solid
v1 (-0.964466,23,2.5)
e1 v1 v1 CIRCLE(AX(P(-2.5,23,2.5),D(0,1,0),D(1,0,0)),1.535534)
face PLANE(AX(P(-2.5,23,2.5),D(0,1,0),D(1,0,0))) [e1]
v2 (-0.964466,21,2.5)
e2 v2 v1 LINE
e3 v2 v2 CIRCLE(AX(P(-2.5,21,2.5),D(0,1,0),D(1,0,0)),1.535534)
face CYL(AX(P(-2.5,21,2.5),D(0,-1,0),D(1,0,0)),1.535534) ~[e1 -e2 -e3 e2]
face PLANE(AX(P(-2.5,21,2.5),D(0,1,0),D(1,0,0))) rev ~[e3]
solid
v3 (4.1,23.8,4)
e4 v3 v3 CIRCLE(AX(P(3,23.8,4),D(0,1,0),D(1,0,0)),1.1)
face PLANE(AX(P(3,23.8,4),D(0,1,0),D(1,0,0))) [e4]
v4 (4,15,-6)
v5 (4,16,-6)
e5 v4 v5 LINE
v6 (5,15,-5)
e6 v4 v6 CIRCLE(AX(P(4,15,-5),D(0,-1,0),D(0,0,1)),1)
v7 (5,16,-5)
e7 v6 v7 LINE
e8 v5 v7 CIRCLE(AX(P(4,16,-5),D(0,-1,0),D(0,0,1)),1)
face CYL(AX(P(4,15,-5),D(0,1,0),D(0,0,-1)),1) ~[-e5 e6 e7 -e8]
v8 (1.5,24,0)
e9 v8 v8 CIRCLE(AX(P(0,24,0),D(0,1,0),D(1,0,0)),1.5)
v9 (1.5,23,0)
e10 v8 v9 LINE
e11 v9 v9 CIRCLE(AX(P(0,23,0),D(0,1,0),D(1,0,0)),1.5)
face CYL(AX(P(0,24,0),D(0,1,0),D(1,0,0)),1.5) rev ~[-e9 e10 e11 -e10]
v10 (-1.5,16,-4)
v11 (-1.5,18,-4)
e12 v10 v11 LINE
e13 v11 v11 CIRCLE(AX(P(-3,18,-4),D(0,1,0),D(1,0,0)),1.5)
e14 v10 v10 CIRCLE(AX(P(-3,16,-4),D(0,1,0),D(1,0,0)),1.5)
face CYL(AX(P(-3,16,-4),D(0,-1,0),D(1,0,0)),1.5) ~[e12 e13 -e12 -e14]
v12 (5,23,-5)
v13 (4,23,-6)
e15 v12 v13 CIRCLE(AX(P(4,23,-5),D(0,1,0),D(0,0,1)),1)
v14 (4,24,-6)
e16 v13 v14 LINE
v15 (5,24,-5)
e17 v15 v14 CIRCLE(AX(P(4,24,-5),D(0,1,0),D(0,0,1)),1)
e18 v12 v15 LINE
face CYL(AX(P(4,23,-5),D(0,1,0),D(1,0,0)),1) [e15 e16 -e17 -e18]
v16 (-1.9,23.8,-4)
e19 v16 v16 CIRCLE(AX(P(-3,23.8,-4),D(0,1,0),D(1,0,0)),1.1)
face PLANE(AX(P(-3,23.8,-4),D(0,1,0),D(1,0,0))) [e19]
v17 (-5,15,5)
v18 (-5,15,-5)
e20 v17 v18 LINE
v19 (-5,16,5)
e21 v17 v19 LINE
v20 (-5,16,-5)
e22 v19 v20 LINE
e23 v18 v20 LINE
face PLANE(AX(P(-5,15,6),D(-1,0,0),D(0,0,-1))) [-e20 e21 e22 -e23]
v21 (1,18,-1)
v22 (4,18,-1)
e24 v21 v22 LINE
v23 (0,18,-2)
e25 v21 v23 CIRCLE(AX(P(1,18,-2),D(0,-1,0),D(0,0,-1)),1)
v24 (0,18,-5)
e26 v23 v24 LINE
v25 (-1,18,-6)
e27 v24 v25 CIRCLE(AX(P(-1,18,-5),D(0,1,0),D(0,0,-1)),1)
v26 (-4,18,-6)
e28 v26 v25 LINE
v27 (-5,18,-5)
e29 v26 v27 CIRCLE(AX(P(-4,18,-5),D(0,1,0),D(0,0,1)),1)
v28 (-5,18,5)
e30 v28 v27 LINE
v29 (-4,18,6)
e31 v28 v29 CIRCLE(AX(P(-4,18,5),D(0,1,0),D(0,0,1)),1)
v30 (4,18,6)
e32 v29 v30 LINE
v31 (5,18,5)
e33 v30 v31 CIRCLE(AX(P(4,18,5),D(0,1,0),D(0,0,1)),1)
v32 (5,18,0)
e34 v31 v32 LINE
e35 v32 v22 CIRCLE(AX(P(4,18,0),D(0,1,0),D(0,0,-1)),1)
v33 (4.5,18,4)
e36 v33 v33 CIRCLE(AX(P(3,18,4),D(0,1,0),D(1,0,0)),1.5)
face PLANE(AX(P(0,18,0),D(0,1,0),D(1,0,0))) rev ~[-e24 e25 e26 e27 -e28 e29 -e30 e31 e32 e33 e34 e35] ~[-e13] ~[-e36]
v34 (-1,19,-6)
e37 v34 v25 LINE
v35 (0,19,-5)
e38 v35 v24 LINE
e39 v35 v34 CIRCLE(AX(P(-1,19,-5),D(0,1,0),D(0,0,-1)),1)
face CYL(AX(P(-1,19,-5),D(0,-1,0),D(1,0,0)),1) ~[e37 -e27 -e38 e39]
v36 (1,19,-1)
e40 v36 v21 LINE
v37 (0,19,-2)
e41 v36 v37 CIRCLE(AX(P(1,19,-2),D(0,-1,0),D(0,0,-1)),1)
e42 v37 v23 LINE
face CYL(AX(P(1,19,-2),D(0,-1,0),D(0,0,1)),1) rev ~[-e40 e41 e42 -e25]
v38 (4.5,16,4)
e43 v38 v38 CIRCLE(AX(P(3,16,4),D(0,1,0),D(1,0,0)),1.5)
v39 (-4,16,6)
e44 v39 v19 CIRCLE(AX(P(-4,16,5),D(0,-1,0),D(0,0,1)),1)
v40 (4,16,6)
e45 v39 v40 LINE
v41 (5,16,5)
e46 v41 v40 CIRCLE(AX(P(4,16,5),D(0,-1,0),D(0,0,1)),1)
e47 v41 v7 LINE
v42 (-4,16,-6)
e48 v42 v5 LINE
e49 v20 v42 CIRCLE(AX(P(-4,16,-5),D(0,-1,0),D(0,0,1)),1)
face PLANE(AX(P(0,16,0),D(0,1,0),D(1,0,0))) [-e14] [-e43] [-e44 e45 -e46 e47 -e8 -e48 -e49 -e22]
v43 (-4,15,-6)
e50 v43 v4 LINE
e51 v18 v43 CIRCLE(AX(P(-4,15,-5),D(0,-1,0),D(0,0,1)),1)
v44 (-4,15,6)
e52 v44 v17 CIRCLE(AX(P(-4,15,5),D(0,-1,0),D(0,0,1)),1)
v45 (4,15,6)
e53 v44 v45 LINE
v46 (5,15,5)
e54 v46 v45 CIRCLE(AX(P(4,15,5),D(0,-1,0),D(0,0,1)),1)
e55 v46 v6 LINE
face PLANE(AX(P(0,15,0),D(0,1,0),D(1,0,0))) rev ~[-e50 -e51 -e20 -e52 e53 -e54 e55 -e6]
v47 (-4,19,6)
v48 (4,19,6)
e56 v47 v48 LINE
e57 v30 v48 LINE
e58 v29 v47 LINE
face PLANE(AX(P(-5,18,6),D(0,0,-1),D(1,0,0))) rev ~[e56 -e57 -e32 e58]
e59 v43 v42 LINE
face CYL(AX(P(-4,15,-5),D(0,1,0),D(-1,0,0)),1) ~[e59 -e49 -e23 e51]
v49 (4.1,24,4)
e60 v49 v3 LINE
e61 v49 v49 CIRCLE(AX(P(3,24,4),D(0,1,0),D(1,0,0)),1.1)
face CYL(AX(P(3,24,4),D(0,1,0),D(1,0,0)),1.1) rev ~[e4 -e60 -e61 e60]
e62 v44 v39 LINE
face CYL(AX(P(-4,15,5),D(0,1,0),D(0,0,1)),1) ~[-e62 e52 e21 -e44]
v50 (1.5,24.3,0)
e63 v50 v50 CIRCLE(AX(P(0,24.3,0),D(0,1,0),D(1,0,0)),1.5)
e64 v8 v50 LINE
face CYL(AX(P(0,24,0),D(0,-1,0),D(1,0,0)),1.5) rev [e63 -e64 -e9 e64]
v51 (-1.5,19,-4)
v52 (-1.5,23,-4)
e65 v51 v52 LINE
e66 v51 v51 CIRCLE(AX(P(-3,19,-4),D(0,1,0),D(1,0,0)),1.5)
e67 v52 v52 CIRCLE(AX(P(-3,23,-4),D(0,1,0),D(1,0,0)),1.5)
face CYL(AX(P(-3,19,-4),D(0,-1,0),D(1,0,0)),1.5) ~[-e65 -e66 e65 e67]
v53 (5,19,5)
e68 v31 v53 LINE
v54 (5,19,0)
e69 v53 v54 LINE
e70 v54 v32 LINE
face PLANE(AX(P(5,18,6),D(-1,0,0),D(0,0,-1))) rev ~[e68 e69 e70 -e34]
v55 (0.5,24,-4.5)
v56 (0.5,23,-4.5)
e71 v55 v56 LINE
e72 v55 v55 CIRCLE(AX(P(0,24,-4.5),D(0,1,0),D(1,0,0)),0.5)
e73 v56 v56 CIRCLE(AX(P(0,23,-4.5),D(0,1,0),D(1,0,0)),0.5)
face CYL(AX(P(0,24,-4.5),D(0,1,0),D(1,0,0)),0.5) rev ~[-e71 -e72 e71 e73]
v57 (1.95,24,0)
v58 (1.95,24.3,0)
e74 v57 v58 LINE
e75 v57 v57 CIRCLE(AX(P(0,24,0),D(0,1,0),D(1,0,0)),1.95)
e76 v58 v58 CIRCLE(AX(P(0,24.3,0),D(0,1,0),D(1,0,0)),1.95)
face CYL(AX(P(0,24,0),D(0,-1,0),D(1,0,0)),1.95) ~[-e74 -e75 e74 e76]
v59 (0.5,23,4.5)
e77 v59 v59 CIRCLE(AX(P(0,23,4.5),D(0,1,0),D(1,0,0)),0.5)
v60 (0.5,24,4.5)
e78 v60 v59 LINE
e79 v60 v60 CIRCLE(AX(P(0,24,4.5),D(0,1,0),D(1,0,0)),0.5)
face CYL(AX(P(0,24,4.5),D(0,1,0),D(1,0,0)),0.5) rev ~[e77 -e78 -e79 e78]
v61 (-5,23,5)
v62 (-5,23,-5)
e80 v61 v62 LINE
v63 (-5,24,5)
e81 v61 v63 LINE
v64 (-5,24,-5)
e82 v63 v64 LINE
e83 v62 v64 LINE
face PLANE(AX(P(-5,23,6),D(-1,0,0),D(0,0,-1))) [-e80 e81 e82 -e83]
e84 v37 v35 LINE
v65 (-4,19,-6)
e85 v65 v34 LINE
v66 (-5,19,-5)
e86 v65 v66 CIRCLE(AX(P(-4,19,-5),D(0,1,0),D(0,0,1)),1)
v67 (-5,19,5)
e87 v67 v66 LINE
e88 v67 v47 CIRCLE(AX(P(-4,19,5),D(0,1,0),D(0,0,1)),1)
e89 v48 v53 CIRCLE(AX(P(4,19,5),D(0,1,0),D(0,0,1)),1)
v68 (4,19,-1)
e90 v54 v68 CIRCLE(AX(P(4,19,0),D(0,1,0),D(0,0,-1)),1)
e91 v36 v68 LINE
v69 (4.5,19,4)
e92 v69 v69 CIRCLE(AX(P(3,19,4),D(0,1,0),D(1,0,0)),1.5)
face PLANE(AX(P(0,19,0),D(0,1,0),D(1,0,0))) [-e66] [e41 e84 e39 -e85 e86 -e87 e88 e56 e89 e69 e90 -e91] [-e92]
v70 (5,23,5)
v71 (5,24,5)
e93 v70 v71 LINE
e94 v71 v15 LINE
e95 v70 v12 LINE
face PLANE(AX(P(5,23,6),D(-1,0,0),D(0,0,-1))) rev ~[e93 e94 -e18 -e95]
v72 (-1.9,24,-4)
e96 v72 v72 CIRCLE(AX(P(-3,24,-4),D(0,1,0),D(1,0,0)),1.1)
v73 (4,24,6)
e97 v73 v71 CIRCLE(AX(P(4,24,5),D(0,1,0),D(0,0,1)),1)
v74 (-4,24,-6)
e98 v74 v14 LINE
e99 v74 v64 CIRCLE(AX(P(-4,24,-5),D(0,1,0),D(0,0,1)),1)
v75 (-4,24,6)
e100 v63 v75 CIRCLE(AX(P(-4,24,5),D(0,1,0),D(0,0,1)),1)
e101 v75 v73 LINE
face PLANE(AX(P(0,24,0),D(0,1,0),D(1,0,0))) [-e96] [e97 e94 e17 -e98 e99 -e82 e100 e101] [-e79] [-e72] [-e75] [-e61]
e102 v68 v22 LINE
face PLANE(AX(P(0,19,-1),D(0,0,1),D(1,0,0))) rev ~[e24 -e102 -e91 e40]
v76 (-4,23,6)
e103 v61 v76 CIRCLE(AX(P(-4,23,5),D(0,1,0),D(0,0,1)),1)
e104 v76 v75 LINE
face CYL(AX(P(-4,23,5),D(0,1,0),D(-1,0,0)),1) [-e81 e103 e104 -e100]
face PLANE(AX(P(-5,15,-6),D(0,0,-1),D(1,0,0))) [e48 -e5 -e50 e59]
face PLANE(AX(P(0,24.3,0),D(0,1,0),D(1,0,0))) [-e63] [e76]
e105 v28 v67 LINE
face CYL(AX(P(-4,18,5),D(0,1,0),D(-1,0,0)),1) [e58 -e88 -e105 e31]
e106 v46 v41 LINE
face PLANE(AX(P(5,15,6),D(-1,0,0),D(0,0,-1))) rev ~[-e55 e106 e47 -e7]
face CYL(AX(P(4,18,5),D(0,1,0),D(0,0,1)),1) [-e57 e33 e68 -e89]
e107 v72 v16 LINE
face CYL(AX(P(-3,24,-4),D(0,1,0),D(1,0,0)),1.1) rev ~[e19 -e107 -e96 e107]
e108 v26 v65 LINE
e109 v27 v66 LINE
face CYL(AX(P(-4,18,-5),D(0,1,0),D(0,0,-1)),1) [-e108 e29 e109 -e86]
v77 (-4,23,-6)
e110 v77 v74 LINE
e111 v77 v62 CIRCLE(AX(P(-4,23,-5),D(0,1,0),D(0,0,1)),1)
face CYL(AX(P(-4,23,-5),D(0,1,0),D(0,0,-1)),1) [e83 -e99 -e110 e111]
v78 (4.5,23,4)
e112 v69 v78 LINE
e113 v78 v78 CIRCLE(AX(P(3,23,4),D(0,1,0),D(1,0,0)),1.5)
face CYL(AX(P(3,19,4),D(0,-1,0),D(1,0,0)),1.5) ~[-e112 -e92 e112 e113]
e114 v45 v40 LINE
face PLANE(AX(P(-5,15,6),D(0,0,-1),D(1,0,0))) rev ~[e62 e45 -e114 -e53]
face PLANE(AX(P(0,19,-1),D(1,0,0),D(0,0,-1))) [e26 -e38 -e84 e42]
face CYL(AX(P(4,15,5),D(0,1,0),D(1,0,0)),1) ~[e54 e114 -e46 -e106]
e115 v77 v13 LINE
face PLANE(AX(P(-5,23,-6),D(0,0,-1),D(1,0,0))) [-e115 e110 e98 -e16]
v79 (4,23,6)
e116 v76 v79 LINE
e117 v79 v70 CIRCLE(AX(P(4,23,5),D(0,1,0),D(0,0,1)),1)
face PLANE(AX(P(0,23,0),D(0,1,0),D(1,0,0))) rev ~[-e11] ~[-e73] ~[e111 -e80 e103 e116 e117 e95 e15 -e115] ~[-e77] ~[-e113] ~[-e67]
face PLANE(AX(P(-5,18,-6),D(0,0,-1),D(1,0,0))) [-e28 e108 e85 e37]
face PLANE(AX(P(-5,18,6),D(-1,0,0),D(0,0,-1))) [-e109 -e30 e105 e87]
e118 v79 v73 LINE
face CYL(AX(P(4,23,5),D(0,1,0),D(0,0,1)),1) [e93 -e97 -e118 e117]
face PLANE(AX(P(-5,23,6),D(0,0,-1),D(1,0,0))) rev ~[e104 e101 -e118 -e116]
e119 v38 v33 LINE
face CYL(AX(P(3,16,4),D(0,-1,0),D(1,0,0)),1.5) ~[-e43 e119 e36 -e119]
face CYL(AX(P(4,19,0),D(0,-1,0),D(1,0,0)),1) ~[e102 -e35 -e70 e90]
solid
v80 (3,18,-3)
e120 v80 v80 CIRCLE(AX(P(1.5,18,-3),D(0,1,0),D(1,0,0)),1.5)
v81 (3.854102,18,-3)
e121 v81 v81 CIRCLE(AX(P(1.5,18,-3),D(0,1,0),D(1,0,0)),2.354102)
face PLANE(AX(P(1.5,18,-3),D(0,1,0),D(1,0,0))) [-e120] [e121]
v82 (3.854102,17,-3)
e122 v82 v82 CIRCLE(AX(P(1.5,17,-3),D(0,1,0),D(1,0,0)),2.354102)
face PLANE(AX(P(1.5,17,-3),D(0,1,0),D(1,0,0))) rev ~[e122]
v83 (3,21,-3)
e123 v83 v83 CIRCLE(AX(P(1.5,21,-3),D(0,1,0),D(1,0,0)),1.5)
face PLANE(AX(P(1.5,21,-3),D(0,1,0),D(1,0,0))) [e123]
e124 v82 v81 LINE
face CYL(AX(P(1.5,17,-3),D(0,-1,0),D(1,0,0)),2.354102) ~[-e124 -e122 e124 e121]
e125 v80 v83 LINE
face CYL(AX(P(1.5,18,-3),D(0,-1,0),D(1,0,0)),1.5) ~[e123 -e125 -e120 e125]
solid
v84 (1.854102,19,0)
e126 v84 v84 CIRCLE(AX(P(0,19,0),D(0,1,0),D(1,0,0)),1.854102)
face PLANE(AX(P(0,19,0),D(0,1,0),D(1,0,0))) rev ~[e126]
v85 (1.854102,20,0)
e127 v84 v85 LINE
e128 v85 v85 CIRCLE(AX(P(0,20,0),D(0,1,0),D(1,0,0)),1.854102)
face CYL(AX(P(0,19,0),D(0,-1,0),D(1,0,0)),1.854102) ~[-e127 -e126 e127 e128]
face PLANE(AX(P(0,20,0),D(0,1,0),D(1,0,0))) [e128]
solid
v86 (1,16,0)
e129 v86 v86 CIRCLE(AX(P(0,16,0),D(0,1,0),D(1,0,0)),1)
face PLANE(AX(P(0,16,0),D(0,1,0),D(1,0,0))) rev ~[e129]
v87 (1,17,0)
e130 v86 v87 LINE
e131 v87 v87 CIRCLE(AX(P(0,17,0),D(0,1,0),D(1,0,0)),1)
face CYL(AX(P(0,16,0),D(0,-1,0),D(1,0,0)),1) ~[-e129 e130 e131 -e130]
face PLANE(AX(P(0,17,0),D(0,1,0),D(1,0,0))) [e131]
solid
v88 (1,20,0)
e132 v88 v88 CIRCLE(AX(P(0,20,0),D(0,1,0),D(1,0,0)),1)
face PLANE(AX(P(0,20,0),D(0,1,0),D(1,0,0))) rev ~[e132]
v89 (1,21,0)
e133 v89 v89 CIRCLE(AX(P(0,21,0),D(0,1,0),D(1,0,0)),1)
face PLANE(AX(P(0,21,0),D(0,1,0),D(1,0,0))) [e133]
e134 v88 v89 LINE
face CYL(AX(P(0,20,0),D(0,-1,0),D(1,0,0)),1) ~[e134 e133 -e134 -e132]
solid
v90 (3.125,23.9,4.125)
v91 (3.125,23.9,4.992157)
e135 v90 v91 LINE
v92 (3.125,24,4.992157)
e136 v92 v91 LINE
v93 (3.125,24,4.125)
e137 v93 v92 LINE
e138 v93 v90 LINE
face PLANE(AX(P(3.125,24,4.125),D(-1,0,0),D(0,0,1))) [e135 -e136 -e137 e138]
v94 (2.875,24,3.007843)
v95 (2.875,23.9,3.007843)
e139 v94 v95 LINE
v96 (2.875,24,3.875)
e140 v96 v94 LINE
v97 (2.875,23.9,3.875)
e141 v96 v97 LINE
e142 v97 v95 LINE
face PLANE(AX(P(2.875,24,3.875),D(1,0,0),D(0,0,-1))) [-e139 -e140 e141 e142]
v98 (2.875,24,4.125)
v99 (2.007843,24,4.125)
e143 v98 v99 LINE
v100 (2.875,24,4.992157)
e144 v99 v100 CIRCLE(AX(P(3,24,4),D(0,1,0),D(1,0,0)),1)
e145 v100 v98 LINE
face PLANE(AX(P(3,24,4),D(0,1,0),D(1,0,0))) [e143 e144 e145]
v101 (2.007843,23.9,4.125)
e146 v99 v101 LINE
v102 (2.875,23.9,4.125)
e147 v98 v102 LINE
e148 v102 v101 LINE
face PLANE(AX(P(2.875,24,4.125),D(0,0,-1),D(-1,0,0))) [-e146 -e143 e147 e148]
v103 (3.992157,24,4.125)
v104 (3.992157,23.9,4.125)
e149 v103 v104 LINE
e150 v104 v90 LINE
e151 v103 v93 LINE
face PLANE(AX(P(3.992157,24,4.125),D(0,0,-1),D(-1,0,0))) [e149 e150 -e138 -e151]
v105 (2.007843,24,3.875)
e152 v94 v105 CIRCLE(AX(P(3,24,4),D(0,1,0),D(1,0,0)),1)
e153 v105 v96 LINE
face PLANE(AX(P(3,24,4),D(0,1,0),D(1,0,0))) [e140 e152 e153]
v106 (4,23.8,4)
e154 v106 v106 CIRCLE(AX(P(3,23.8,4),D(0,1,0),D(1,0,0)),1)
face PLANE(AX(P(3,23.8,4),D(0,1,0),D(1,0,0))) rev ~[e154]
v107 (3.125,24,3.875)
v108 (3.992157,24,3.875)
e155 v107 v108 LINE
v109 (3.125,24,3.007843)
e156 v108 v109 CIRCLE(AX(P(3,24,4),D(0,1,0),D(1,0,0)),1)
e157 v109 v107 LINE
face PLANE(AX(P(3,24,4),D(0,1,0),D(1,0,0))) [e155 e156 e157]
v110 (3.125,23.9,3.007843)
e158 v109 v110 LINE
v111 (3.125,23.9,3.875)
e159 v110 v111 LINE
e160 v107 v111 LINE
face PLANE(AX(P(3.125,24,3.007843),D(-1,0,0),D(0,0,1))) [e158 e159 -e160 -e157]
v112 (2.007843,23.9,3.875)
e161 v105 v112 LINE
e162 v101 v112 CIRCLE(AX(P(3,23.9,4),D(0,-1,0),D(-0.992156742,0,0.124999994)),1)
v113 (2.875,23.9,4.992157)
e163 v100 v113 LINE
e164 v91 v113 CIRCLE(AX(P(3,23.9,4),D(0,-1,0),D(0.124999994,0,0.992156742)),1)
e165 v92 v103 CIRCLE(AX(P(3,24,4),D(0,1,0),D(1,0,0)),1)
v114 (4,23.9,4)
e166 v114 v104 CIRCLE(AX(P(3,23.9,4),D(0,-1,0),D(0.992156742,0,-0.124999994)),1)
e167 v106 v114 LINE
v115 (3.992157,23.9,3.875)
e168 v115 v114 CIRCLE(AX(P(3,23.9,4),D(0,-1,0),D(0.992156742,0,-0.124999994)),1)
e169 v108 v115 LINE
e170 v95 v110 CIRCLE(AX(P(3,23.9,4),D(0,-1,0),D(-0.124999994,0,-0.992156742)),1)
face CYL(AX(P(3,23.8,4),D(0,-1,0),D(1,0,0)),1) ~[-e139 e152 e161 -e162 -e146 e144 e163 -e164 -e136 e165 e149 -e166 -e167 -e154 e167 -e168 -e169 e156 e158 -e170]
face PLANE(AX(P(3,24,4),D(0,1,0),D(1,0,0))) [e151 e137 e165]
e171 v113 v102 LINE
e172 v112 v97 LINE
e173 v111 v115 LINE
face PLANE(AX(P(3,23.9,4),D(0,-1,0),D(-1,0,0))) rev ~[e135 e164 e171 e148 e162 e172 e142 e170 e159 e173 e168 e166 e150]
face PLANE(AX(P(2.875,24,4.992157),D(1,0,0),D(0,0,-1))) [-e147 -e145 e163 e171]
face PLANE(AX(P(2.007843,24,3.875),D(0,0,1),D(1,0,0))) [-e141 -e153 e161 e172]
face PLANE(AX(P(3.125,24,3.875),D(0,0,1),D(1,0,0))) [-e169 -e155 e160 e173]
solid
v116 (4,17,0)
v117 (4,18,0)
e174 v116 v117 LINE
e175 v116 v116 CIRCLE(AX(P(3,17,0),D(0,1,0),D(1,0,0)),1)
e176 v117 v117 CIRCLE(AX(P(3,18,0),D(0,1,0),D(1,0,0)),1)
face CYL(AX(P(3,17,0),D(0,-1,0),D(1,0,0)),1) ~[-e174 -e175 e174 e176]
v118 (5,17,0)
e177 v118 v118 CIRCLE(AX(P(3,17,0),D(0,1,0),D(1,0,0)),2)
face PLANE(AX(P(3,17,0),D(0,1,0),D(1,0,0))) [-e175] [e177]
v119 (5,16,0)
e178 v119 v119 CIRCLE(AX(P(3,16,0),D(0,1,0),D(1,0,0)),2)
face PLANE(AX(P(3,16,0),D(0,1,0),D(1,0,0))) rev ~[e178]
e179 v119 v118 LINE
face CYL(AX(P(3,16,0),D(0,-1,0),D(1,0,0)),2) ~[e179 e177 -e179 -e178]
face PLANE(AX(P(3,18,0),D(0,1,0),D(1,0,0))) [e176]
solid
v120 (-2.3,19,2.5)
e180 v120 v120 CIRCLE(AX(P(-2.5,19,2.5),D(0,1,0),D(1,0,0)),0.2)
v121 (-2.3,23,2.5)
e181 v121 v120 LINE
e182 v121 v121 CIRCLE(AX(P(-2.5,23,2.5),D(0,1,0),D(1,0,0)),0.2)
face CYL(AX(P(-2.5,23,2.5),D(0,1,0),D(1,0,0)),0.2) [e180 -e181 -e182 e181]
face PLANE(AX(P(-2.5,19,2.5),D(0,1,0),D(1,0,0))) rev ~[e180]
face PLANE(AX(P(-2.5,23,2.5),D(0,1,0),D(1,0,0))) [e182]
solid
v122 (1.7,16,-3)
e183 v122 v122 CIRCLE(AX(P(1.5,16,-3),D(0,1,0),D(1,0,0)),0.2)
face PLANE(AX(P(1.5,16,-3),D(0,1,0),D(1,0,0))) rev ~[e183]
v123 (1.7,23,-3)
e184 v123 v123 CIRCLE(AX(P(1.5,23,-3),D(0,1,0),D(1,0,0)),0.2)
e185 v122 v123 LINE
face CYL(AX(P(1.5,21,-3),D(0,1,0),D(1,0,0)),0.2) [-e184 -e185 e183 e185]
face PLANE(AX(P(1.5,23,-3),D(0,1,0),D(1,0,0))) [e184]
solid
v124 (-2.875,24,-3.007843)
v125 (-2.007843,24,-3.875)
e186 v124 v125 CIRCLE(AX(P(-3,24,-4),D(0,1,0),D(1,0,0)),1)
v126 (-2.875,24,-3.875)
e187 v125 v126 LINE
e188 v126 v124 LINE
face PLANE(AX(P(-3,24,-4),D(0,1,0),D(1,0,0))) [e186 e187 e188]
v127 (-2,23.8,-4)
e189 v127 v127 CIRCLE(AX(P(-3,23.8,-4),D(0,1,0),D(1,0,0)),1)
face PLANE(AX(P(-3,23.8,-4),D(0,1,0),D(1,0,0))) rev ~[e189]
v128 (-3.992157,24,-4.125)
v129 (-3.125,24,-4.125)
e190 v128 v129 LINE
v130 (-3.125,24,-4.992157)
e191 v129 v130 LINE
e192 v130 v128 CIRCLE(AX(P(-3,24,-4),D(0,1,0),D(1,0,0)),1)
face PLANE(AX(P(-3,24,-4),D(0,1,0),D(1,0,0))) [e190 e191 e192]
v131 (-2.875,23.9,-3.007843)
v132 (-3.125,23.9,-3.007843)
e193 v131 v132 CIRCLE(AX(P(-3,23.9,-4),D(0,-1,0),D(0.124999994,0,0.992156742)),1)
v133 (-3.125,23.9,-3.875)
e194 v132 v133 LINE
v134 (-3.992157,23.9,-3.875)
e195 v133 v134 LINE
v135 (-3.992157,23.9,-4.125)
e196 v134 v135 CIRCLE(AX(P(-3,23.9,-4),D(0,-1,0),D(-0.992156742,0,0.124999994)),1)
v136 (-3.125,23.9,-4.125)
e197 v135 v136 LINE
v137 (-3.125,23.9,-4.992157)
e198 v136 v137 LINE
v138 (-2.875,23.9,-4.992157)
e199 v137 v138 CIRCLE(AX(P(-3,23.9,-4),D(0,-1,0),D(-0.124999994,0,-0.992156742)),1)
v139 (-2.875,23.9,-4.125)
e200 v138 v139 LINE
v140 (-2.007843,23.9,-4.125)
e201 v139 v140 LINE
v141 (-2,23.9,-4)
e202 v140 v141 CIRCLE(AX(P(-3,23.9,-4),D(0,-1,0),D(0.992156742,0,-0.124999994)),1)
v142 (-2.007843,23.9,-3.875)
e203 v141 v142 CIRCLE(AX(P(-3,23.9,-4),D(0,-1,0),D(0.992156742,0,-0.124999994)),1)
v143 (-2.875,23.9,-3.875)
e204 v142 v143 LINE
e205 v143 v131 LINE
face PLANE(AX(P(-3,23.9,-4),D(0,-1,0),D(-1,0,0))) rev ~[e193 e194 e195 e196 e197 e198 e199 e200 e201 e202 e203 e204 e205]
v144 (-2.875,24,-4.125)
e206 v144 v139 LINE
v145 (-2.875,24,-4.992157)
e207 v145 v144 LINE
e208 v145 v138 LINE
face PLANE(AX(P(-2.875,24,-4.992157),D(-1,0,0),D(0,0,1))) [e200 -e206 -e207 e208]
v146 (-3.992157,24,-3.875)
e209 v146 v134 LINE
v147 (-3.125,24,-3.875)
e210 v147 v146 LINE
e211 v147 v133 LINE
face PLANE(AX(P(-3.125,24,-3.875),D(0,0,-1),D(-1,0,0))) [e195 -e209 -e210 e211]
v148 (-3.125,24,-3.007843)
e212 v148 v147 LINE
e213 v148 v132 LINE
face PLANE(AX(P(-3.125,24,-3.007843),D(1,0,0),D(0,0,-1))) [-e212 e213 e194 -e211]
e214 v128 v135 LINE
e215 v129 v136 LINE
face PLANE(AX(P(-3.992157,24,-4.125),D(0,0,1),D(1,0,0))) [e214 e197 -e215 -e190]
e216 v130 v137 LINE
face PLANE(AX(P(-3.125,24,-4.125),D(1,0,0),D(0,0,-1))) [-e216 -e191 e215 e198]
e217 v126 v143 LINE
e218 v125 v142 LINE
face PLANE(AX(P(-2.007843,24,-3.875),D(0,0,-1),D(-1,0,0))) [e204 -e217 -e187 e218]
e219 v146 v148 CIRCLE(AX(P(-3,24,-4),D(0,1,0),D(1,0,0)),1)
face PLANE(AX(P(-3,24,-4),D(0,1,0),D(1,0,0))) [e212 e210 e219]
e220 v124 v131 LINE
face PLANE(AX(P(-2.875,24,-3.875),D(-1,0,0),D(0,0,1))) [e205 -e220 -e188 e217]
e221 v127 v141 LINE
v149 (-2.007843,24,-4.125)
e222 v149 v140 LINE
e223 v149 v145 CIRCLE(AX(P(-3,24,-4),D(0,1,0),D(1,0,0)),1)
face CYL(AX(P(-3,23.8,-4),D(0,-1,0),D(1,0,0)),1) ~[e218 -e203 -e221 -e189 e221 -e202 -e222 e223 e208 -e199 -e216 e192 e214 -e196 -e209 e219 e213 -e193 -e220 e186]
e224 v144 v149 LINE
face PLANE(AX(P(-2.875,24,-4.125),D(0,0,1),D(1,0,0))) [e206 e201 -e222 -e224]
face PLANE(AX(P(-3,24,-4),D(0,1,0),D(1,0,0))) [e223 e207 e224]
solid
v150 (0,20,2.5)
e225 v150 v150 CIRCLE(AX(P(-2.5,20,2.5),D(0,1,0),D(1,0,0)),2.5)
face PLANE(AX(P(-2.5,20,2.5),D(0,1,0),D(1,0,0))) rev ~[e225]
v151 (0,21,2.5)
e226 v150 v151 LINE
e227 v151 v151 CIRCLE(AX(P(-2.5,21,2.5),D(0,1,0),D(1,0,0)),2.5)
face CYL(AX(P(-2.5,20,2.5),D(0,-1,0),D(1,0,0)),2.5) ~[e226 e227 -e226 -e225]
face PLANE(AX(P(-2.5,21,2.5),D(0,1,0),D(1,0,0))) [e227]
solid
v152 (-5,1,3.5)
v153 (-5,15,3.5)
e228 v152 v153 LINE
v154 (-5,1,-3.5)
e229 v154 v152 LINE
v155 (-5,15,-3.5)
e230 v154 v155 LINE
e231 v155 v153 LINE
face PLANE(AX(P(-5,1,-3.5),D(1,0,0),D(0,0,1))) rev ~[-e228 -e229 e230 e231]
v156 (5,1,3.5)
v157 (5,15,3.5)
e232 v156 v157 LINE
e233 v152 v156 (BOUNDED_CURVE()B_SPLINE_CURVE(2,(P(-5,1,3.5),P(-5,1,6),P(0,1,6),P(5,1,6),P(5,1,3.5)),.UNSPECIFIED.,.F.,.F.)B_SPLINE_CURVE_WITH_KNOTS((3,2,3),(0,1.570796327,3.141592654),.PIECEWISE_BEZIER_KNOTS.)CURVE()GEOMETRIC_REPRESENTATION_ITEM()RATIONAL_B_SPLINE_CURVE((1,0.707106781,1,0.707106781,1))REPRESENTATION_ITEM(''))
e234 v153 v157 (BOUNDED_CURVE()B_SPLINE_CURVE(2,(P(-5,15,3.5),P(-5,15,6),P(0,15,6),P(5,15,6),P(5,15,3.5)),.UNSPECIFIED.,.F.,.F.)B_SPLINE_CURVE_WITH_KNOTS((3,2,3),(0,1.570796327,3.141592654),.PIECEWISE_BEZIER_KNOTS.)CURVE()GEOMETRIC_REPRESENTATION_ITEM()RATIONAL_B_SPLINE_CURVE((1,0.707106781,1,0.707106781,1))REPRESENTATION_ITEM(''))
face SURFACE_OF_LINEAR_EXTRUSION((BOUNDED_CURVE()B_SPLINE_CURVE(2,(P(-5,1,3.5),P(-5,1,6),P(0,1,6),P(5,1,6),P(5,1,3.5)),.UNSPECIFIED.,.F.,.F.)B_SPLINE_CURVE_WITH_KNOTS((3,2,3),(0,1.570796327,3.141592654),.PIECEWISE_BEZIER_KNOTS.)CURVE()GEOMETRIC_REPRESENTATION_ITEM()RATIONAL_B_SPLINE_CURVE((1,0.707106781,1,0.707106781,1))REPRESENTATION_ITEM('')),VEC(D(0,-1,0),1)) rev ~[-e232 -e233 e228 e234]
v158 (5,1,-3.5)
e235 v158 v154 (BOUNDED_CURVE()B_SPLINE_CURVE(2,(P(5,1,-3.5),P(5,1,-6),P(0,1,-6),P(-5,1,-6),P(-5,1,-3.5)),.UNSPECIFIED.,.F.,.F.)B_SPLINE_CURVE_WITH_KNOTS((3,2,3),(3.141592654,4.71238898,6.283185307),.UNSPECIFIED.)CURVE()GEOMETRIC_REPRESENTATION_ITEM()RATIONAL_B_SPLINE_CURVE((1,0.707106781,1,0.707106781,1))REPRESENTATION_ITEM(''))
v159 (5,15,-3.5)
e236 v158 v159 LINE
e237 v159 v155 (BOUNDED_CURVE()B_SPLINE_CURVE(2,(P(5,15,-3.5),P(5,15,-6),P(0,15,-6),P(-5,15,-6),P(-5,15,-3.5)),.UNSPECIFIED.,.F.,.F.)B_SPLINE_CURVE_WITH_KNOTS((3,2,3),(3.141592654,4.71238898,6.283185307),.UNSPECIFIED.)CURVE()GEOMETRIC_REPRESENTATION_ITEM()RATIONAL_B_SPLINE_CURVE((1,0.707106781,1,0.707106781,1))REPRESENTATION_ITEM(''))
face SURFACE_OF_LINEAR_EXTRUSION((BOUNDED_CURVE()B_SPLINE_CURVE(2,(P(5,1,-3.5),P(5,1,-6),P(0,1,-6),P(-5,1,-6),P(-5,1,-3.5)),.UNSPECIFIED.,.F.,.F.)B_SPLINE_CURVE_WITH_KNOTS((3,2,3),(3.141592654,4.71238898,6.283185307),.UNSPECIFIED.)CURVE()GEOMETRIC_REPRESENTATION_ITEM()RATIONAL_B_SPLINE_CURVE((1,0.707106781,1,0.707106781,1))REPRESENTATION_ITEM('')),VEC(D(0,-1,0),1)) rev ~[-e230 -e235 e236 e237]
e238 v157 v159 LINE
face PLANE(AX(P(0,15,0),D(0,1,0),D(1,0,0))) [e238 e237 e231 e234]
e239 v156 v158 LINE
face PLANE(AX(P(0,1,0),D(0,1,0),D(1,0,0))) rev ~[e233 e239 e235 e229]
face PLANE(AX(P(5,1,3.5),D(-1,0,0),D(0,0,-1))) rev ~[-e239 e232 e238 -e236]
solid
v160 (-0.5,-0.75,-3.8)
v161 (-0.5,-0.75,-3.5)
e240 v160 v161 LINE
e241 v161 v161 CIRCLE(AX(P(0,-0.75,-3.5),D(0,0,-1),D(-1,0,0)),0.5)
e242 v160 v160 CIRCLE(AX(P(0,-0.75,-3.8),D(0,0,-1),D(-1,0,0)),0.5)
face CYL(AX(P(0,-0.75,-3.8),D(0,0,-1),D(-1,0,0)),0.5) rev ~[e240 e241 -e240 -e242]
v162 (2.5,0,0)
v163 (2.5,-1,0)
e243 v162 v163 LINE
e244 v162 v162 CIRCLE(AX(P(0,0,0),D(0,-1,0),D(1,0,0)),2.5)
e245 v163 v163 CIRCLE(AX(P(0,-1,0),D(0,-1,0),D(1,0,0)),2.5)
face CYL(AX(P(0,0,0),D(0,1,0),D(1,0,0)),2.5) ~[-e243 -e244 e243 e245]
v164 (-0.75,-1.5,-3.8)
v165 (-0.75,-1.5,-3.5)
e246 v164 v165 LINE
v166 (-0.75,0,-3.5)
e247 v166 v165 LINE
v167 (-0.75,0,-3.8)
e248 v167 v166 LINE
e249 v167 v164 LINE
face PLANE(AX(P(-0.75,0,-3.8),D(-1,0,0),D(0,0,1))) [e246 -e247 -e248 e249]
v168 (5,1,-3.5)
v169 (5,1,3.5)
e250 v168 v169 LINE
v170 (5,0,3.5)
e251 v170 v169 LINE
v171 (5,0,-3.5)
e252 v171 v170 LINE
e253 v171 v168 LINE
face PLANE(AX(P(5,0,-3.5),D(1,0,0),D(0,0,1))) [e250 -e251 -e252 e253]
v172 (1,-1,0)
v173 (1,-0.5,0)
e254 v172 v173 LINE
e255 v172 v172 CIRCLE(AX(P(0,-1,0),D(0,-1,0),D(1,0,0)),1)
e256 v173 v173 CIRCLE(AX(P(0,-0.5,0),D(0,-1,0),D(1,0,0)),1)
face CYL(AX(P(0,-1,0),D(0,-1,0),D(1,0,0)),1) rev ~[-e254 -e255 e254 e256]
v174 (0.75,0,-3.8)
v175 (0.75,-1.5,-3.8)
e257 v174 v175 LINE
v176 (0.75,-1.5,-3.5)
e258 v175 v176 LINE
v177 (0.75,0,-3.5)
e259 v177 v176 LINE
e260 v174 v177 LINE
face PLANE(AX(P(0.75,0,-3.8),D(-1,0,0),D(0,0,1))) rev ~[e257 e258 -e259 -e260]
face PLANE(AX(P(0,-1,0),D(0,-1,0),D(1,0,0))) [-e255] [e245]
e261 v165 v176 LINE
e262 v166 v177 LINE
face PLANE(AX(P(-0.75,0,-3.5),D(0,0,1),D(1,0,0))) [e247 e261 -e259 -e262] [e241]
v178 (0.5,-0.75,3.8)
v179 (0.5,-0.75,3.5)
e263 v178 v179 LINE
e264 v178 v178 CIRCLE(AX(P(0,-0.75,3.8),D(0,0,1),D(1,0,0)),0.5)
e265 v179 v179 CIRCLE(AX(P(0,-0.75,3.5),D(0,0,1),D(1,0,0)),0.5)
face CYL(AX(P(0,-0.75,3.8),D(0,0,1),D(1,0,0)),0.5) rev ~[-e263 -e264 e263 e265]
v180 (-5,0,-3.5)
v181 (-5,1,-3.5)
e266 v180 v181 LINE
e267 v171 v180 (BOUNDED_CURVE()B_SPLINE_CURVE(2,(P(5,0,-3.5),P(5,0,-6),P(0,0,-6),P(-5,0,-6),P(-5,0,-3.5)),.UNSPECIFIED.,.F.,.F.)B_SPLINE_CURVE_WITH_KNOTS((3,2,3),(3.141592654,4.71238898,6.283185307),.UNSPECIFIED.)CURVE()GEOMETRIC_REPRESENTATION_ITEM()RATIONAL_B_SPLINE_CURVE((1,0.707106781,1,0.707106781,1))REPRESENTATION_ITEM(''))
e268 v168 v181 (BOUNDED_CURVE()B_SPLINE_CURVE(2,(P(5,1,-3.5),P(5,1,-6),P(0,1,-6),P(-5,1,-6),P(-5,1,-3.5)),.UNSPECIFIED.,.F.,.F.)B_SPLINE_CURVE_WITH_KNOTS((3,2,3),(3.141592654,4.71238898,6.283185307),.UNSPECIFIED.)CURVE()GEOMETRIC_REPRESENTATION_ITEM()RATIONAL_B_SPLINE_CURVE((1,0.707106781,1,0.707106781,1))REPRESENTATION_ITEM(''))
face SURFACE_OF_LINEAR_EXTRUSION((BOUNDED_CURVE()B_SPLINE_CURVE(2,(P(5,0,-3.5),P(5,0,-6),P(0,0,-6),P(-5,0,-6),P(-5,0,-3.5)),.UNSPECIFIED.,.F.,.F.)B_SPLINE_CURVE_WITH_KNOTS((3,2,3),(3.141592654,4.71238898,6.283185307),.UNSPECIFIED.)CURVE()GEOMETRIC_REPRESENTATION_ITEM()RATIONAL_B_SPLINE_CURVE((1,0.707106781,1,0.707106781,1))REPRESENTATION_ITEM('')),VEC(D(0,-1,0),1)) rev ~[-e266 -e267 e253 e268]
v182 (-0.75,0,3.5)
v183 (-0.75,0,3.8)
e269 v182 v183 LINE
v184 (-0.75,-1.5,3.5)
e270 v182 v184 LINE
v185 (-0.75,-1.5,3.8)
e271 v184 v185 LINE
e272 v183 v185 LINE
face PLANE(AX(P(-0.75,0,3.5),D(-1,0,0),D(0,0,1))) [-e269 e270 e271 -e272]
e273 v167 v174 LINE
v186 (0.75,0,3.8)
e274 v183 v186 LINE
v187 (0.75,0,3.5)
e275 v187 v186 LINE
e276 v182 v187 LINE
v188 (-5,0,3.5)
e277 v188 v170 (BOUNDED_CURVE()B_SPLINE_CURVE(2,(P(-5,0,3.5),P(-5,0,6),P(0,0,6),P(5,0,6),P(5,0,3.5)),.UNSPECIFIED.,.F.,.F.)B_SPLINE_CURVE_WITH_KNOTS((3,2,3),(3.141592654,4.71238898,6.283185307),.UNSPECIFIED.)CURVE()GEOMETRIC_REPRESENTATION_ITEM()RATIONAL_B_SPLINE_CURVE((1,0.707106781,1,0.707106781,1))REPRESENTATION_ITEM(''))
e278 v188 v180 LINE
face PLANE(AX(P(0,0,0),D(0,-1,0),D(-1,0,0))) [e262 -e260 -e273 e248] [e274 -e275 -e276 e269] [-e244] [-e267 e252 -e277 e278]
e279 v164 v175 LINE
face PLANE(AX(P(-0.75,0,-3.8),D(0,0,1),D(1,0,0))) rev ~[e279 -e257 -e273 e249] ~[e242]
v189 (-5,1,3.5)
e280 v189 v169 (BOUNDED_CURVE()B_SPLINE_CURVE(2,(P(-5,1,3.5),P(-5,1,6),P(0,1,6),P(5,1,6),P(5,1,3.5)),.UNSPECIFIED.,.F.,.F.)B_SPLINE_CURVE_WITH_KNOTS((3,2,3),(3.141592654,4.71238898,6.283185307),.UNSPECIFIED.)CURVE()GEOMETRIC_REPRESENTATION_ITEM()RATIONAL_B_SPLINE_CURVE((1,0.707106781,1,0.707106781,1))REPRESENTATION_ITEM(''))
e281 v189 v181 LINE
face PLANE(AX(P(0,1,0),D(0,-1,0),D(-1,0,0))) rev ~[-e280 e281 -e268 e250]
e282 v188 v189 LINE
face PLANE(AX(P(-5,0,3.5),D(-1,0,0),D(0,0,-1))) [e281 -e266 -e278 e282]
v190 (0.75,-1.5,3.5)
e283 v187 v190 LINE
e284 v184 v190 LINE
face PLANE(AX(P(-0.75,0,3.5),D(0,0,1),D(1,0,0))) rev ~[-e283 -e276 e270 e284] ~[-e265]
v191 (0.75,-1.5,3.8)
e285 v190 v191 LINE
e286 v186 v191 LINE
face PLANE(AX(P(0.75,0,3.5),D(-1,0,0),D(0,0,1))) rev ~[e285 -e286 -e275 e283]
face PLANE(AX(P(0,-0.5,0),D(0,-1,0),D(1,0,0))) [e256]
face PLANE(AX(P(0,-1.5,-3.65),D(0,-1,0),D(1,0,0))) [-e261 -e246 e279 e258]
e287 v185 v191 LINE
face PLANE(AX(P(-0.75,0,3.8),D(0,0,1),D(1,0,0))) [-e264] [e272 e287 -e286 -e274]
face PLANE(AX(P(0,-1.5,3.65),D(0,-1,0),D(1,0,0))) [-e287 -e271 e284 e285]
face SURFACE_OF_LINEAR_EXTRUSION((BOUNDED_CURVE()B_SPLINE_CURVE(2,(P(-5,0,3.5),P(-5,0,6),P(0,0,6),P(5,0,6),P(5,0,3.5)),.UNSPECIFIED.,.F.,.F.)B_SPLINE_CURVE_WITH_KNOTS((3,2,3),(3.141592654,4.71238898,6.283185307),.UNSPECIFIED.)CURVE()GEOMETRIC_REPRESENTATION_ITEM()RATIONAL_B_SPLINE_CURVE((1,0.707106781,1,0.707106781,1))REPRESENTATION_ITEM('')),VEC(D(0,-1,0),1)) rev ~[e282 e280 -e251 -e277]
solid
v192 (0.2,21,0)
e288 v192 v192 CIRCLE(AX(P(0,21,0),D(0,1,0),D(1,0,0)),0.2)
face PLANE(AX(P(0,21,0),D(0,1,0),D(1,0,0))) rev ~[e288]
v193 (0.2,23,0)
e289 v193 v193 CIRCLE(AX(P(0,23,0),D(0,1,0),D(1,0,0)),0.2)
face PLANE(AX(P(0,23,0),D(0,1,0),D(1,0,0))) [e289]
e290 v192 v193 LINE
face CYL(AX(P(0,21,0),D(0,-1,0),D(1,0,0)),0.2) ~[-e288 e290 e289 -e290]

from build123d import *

# Parameters (mm, degrees)
SALIENTE_EXTRUIR1_DEPTH       = 1
CROQUIS2_R                    = 2.5
SALIENTE_EXTRUIR2_DEPTH       = 1
CROQUIS3_R                    = 1
CORTAR_EXTRUIR1_DEPTH         = 0.5
CROQUIS4_W                    = 1.5
CROQUIS4_H                    = 0.3
SALIENTE_EXTRUIR3_DEPTH       = 1.5
CROQUIS5_R                    = 0.5
CORTAR_EXTRUIR2_DEPTH         = 0.3
CROQUIS6_R                    = 0.5
CORTAR_EXTRUIR3_DEPTH         = 0.3
SALIENTE_EXTRUIR4_DEPTH       = 14
CROQUIS8_W                    = 10
CROQUIS8_H                    = 12
SALIENTE_EXTRUIR5_DEPTH       = 1
CROQUIS23_R                   = 1
SALIENTE_EXTRUIR13_DEPTH      = 1
CROQUIS25_R                   = 2
SALIENTE_EXTRUIR18_DEPTH      = 1
CROQUIS26_R                   = 1
SALIENTE_EXTRUIR19_DEPTH      = 1
CROQUIS27_R                   = 2.354101966
SALIENTE_EXTRUIR21_DEPTH      = 1
CROQUIS29_R                   = 1.5
SALIENTE_EXTRUIR22_DEPTH      = 3
REDONDEO1_R                   = 1
REDONDEO2_R                   = 1
REDONDEO3_R                   = 1
REDONDEO4_R                   = 1
CROQUIS9_R                    = 1.5
SALIENTE_EXTRUIR6_DEPTH       = 2
CROQUIS10_W                   = 10
CROQUIS10_H                   = 12
SALIENTE_EXTRUIR7_DEPTH       = 1
CROQUIS11_R                   = 1.5
SALIENTE_EXTRUIR8_DEPTH       = 4
CROQUIS12_W                   = 5
CROQUIS12_H                   = 5
CORTAR_EXTRUIR4_DEPTH         = 1
CROQUIS30_R                   = 1.854101966
SALIENTE_EXTRUIR24_DEPTH      = 1
CROQUIS31_R                   = 1
SALIENTE_EXTRUIR26_DEPTH      = 1
CROQUIS32_R                   = 2.5
SALIENTE_EXTRUIR27_DEPTH      = 1
CROQUIS33_R                   = 1.535533906
SALIENTE_EXTRUIR28_DEPTH      = 2
CROQUIS34_R                   = 0.2
SALIENTE_EXTRUIR29_DEPTH      = 2
SALIENTE_EXTRUIR29_DEPTH_BACK = 5
CROQUIS35_R                   = 0.2
SALIENTE_EXTRUIR30_DEPTH      = 4
CROQUIS36_R                   = 0.2
SALIENTE_EXTRUIR31_DEPTH      = 2
REDONDEO5_R                   = 1
REDONDEO6_R                   = 1
REDONDEO7_R                   = 1
REDONDEO8_R                   = 1
REDONDEO9_R                   = 1
CROQUIS13_W                   = 10
CROQUIS13_H                   = 12
SALIENTE_EXTRUIR9_DEPTH       = 1
CROQUIS14_R                   = 1.95
CROQUIS14_R_2                 = 1.5
SALIENTE_EXTRUIR10_DEPTH      = 0.3
CROQUIS15_R                   = 0.5
CORTAR_EXTRUIR5_DEPTH         = 1
CROQUIS16_R                   = 1.1
CORTAR_EXTRUIR6_DEPTH         = 0.2
CROQUIS17_R                   = 1
SALIENTE_EXTRUIR11_DEPTH      = 0.2
CROQUIS18_R                   = 1
SALIENTE_EXTRUIR12_DEPTH      = 0.2
CORTAR_EXTRUIR7_DEPTH         = 0.1
CORTAR_EXTRUIR8_DEPTH         = 0.1
REDONDEO10_R                  = 1
REDONDEO11_R                  = 1
REDONDEO12_R                  = 1
REDONDEO13_R                  = 1
REDONDEO14_R                  = 1
CROQUIS22_R                   = 1.5
CORTAR_EXTRUIR9_DEPTH         = 1


with BuildPart() as part:
    # Croquis1 → Saliente-Extruir1 (new body)
    with BuildSketch(Plane(origin=(0, 0, 0), x_dir=(1, 0, 0), z_dir=(0, 1, 0))):
        with BuildLine():
            Line((5, 3.5), (5, -3.5))
            add(Edge.make_bspline(
                [(-5, -3.5), (-5, -6), (0, -6), (5, -6), (5, -3.5)],
                knots=[3.141592654, 3.141592654, 3.141592654, 4.71238898, 4.71238898, 6.283185307, 6.283185307, 6.283185307], degree=2, weights=[1, 0.707106781, 1, 0.707106781, 1]))
            Line((-5, -3.5), (-5, 3.5))
            add(Edge.make_bspline(
                [(5, 3.5), (5, 6), (0, 6), (-5, 6), (-5, 3.5)],
                knots=[3.141592654, 3.141592654, 3.141592654, 4.71238898, 4.71238898, 6.283185307, 6.283185307, 6.283185307], degree=2, weights=[1, 0.707106781, 1, 0.707106781, 1]))
        make_face()
    extrude(amount=SALIENTE_EXTRUIR1_DEPTH)

    # Croquis2 → Saliente-Extruir2 (add)
    with BuildSketch(Plane.XZ):
        Circle(CROQUIS2_R)
    extrude(amount=SALIENTE_EXTRUIR2_DEPTH)

    # Croquis3 → Cortar-Extruir1 (cut)
    with BuildSketch(Plane.XZ.offset(1)):
        Circle(CROQUIS3_R)
    extrude(amount=-CORTAR_EXTRUIR1_DEPTH, mode=Mode.SUBTRACT)

    # Croquis4 → Saliente-Extruir3 (add)
    with BuildSketch(Plane.XZ):
        with Locations((0, 3.65)):
            Rectangle(CROQUIS4_W, CROQUIS4_H)
        with Locations((0, -3.65)):
            Rectangle(CROQUIS4_W, CROQUIS4_H)
    extrude(amount=SALIENTE_EXTRUIR3_DEPTH)

    # Croquis5 → Cortar-Extruir2 (cut)
    with BuildSketch(Plane(origin=(0, 0, -3.8), x_dir=(-1, 0, 0), z_dir=(0, 0, -1))):
        with Locations((0, -0.75)):
            Circle(CROQUIS5_R)
    extrude(amount=-CORTAR_EXTRUIR2_DEPTH, mode=Mode.SUBTRACT)

    # Croquis6 → Cortar-Extruir3 (cut)
    with BuildSketch(Plane.XY.offset(3.8)):
        with Locations((0, -0.75)):
            Circle(CROQUIS6_R)
    extrude(amount=-CORTAR_EXTRUIR3_DEPTH, mode=Mode.SUBTRACT)


with BuildPart() as body_2:
    # Croquis7 → Saliente-Extruir4 (new body)
    with BuildSketch(Plane(origin=(0, 1, 0), x_dir=(1, 0, 0), z_dir=(0, 1, 0))):
        with BuildLine():
            Line((-5, 3.5), (-5, -3.5))
            add(Edge.make_bspline(
                [(-5, -3.5), (-5, -6), (0, -6), (5, -6), (5, -3.5)],
                knots=[0, 0, 0, 1.570796327, 1.570796327, 3.141592654, 3.141592654, 3.141592654], degree=2, weights=[1, 0.707106781, 1, 0.707106781, 1]))
            Line((5, -3.5), (5, 3.5))
            add(Edge.make_bspline(
                [(5, 3.5), (5, 6), (0, 6), (-5, 6), (-5, 3.5)],
                knots=[3.141592654, 3.141592654, 3.141592654, 4.71238898, 4.71238898, 6.283185307, 6.283185307, 6.283185307], degree=2, weights=[1, 0.707106781, 1, 0.707106781, 1]))
        make_face()
    extrude(amount=SALIENTE_EXTRUIR4_DEPTH)


with BuildPart() as body_3:
    # Croquis8 → Saliente-Extruir5 (new body)
    with BuildSketch(Plane(origin=(0, 15, 0), x_dir=(1, 0, 0), z_dir=(0, 1, 0))):
        Rectangle(CROQUIS8_W, CROQUIS8_H)
    extrude(amount=SALIENTE_EXTRUIR5_DEPTH)

    # Redondeo1
    redondeo1_edges = [body_3.edges().sort_by_distance(p)[0] for p in [
        (-5, 15.5, -6),
    ]]
    fillet(redondeo1_edges, radius=REDONDEO1_R)

    # Redondeo2
    redondeo2_edges = [body_3.edges().sort_by_distance(p)[0] for p in [
        (5, 15.5, -6),
    ]]
    fillet(redondeo2_edges, radius=REDONDEO2_R)

    # Redondeo3
    redondeo3_edges = [body_3.edges().sort_by_distance(p)[0] for p in [
        (5, 15.5, 6),
    ]]
    fillet(redondeo3_edges, radius=REDONDEO3_R)

    # Redondeo4
    redondeo4_edges = [body_3.edges().sort_by_distance(p)[0] for p in [
        (-5, 15.5, 6),
    ]]
    fillet(redondeo4_edges, radius=REDONDEO4_R)

    # Croquis9 → Saliente-Extruir6 (add)
    with BuildSketch(Plane(origin=(0, 16, 0), x_dir=(1, 0, 0), z_dir=(0, 1, 0))):
        with Locations((-3, 4)):
            Circle(CROQUIS9_R)
        with Locations((3, -4)):
            Circle(CROQUIS9_R)
    extrude(amount=SALIENTE_EXTRUIR6_DEPTH)

    # Croquis10 → Saliente-Extruir7 (add)
    with BuildSketch(Plane(origin=(0, 18, 0), x_dir=(1, 0, 0), z_dir=(0, 1, 0))):
        Rectangle(CROQUIS10_W, CROQUIS10_H)
    extrude(amount=SALIENTE_EXTRUIR7_DEPTH)

    # Croquis11 → Saliente-Extruir8 (add)
    with BuildSketch(Plane(origin=(0, 19, 0), x_dir=(1, 0, 0), z_dir=(0, 1, 0))):
        with Locations((3, -4)):
            Circle(CROQUIS11_R)
        with Locations((-3, 4)):
            Circle(CROQUIS11_R)
    extrude(amount=SALIENTE_EXTRUIR8_DEPTH)

    # Croquis12 → Cortar-Extruir4 (cut)
    with BuildSketch(Plane(origin=(0, 19, 0), x_dir=(1, 0, 0), z_dir=(0, 1, 0))):
        with Locations((2.5, 3.5)):
            Rectangle(CROQUIS12_W, CROQUIS12_H)
    extrude(amount=-CORTAR_EXTRUIR4_DEPTH, mode=Mode.SUBTRACT)

    # Redondeo5
    redondeo5_edges = [body_3.edges().sort_by_distance(p)[0] for p in [
        (5, 18.5, -1),
    ]]
    fillet(redondeo5_edges, radius=REDONDEO5_R)

    # Redondeo6
    redondeo6_edges = [body_3.edges().sort_by_distance(p)[0] for p in [
        (0, 18.5, -6),
    ]]
    fillet(redondeo6_edges, radius=REDONDEO6_R)

    # Redondeo7
    redondeo7_edges = [body_3.edges().sort_by_distance(p)[0] for p in [
        (-5, 18.5, -6),
    ]]
    fillet(redondeo7_edges, radius=REDONDEO7_R)

    # Redondeo8
    redondeo8_edges = [body_3.edges().sort_by_distance(p)[0] for p in [
        (-5, 18.5, 6),
    ]]
    fillet(redondeo8_edges, radius=REDONDEO8_R)

    # Redondeo9
    redondeo9_edges = [body_3.edges().sort_by_distance(p)[0] for p in [
        (5, 18.5, 6),
    ]]
    fillet(redondeo9_edges, radius=REDONDEO9_R)

    # Croquis13 → Saliente-Extruir9 (add)
    with BuildSketch(Plane(origin=(0, 23, 0), x_dir=(1, 0, 0), z_dir=(0, 1, 0))):
        Rectangle(CROQUIS13_W, CROQUIS13_H)
    extrude(amount=SALIENTE_EXTRUIR9_DEPTH)

    # Croquis14 → Saliente-Extruir10 (add)
    with BuildSketch(Plane(origin=(0, 24, 0), x_dir=(1, 0, 0), z_dir=(0, 1, 0))):
        Circle(CROQUIS14_R)
        Circle(CROQUIS14_R_2, mode=Mode.SUBTRACT)
    extrude(amount=SALIENTE_EXTRUIR10_DEPTH)

    # Croquis15 → Cortar-Extruir5 (cut)
    with BuildSketch(Plane(origin=(0, 24, 0), x_dir=(1, 0, 0), z_dir=(0, 1, 0))):
        with Locations((0, 4.5)):
            Circle(CROQUIS15_R)
        with Locations((0, -4.5)):
            Circle(CROQUIS15_R)
    extrude(amount=-CORTAR_EXTRUIR5_DEPTH, mode=Mode.SUBTRACT)

    # Croquis16 → Cortar-Extruir6 (cut)
    with BuildSketch(Plane(origin=(0, 24, 0), x_dir=(1, 0, 0), z_dir=(0, 1, 0))):
        with Locations((3, -4)):
            Circle(CROQUIS16_R)
        with Locations((-3, 4)):
            Circle(CROQUIS16_R)
    extrude(amount=-CORTAR_EXTRUIR6_DEPTH, mode=Mode.SUBTRACT)

    # Redondeo10
    redondeo10_edges = [body_3.edges().sort_by_distance(p)[0] for p in [
        (-5, 23.5, 6),
    ]]
    fillet(redondeo10_edges, radius=REDONDEO10_R)

    # Redondeo11
    redondeo11_edges = [body_3.edges().sort_by_distance(p)[0] for p in [
        (5, 23.5, 6),
    ]]
    fillet(redondeo11_edges, radius=REDONDEO11_R)

    # Redondeo12
    redondeo12_edges = [body_3.edges().sort_by_distance(p)[0] for p in [
        (5, 23.5, -6),
    ]]
    fillet(redondeo12_edges, radius=REDONDEO12_R)

    # Redondeo13
    redondeo13_edges = [body_3.edges().sort_by_distance(p)[0] for p in [
        (-5, 23.5, -6),
    ]]
    fillet(redondeo13_edges, radius=REDONDEO13_R)

    # Redondeo14
    redondeo14_edges = [body_3.edges().sort_by_distance(p)[0] for p in [
        (0, 18.5, -1),
    ]]
    fillet(redondeo14_edges, radius=REDONDEO14_R)

    # Croquis22 → Cortar-Extruir9 (cut)
    with BuildSketch(Plane(origin=(0, 24, 0), x_dir=(1, 0, 0), z_dir=(0, 1, 0))):
        Circle(CROQUIS22_R)
    extrude(amount=-CORTAR_EXTRUIR9_DEPTH, mode=Mode.SUBTRACT)


with BuildPart() as body_4:
    # Croquis23 → Saliente-Extruir13 (new body)
    with BuildSketch(Plane(origin=(0, 16, 0), x_dir=(1, 0, 0), z_dir=(0, 1, 0))):
        Circle(CROQUIS23_R)
    extrude(amount=SALIENTE_EXTRUIR13_DEPTH)


with BuildPart() as body_5:
    # Croquis25 → Saliente-Extruir18 (new body)
    with BuildSketch(Plane(origin=(0, 16, 0), x_dir=(1, 0, 0), z_dir=(0, 1, 0))):
        with Locations((3, 0)):
            Circle(CROQUIS25_R)
    extrude(amount=SALIENTE_EXTRUIR18_DEPTH)

    # Croquis26 → Saliente-Extruir19 (add)
    with BuildSketch(Plane(origin=(0, 17, 0), x_dir=(1, 0, 0), z_dir=(0, 1, 0))):
        with Locations((3, 0)):
            Circle(CROQUIS26_R)
    extrude(amount=SALIENTE_EXTRUIR19_DEPTH)


with BuildPart() as body_6:
    # Croquis27 → Saliente-Extruir21 (new body)
    with BuildSketch(Plane(origin=(0, 17, 0), x_dir=(1, 0, 0), z_dir=(0, 1, 0))):
        with Locations((1.5, 3)):
            Circle(CROQUIS27_R)
    extrude(amount=SALIENTE_EXTRUIR21_DEPTH)

    # Croquis29 → Saliente-Extruir22 (add)
    with BuildSketch(Plane(origin=(0, 18, 0), x_dir=(1, 0, 0), z_dir=(0, 1, 0))):
        with Locations((1.5, 3)):
            Circle(CROQUIS29_R)
    extrude(amount=SALIENTE_EXTRUIR22_DEPTH)


with BuildPart() as body_7:
    # Croquis30 → Saliente-Extruir24 (new body)
    with BuildSketch(Plane(origin=(0, 19, 0), x_dir=(1, 0, 0), z_dir=(0, 1, 0))):
        Circle(CROQUIS30_R)
    extrude(amount=SALIENTE_EXTRUIR24_DEPTH)


with BuildPart() as body_8:
    # Croquis31 → Saliente-Extruir26 (new body)
    with BuildSketch(Plane(origin=(0, 20, 0), x_dir=(1, 0, 0), z_dir=(0, 1, 0))):
        Circle(CROQUIS31_R)
    extrude(amount=SALIENTE_EXTRUIR26_DEPTH)


with BuildPart() as body_9:
    # Croquis32 → Saliente-Extruir27 (new body)
    with BuildSketch(Plane(origin=(0, 20, 0), x_dir=(1, 0, 0), z_dir=(0, 1, 0))):
        with Locations((-2.5, -2.5)):
            Circle(CROQUIS32_R)
    extrude(amount=SALIENTE_EXTRUIR27_DEPTH)


with BuildPart() as body_10:
    # Croquis33 → Saliente-Extruir28 (new body)
    with BuildSketch(Plane(origin=(0, 21, 0), x_dir=(1, 0, 0), z_dir=(0, 1, 0))):
        with Locations((-2.5, -2.5)):
            Circle(CROQUIS33_R)
    extrude(amount=SALIENTE_EXTRUIR28_DEPTH)


with BuildPart() as body_11:
    # Croquis34 → Saliente-Extruir29 (new body, two sides)
    with BuildSketch(Plane(origin=(0, 21, 0), x_dir=(1, 0, 0), z_dir=(0, 1, 0))) as saliente_extruir29_sk:
        with Locations((1.5, 3)):
            Circle(CROQUIS34_R)
    extrude(amount=SALIENTE_EXTRUIR29_DEPTH)
    extrude(saliente_extruir29_sk.sketch, amount=-SALIENTE_EXTRUIR29_DEPTH_BACK)


with BuildPart() as body_12:
    # Croquis35 → Saliente-Extruir30 (new body)
    with BuildSketch(Plane(origin=(0, 23, 0), x_dir=(1, 0, 0), z_dir=(0, 1, 0))):
        with Locations((-2.5, -2.5)):
            Circle(CROQUIS35_R)
    extrude(amount=-SALIENTE_EXTRUIR30_DEPTH)


with BuildPart() as body_13:
    # Croquis36 → Saliente-Extruir31 (new body)
    with BuildSketch(Plane(origin=(0, 21, 0), x_dir=(1, 0, 0), z_dir=(0, 1, 0))):
        Circle(CROQUIS36_R)
    extrude(amount=SALIENTE_EXTRUIR31_DEPTH)


with BuildPart() as body_14:
    # Croquis17 → Saliente-Extruir11 (new body)
    with BuildSketch(Plane(origin=(0, 23.8, 0), x_dir=(1, 0, 0), z_dir=(0, 1, 0))):
        with Locations((-3, 4)):
            Circle(CROQUIS17_R)
    extrude(amount=SALIENTE_EXTRUIR11_DEPTH)

    # Croquis19 → Cortar-Extruir7 (cut)
    with BuildSketch(Plane(origin=(0, 24, 0), x_dir=(1, 0, 0), z_dir=(0, 1, 0))):
        with BuildLine():
            Line((-3.125, 4.125), (-3.125, 4.992156742))
            ThreePointArc((-3.125, 4.992156742), (-3, 5), (-2.875, 4.992156742))
            Line((-2.875, 4.992156742), (-2.875, 4.125))
            Line((-2.875, 4.125), (-2.007843258, 4.125))
            ThreePointArc((-2.007843258, 4.125), (-2, 4), (-2.007843258, 3.875))
            Line((-2.007843258, 3.875), (-2.875, 3.875))
            Line((-2.875, 3.875), (-2.875, 3.007843258))
            ThreePointArc((-2.875, 3.007843258), (-3, 3), (-3.125, 3.007843258))
            Line((-3.125, 3.007843258), (-3.125, 3.875))
            Line((-3.125, 3.875), (-3.992156742, 3.875))
            ThreePointArc((-3.992156742, 3.875), (-4, 4), (-3.992156742, 4.125))
            Line((-3.992156742, 4.125), (-3.125, 4.125))
        make_face()
    extrude(amount=-CORTAR_EXTRUIR7_DEPTH, mode=Mode.SUBTRACT)


with BuildPart() as body_15:
    # Croquis18 → Saliente-Extruir12 (new body)
    with BuildSketch(Plane(origin=(0, 23.8, 0), x_dir=(1, 0, 0), z_dir=(0, 1, 0))):
        with Locations((3, -4)):
            Circle(CROQUIS18_R)
    extrude(amount=SALIENTE_EXTRUIR12_DEPTH)

    # Croquis21 → Cortar-Extruir8 (cut)
    with BuildSketch(Plane(origin=(0, 24, 0), x_dir=(1, 0, 0), z_dir=(0, 1, 0))):
        with BuildLine():
            Line((2.875, -3.875), (2.875, -3.007843258))
            ThreePointArc((2.875, -3.007843258), (3, -3), (3.125, -3.007843258))
            Line((3.125, -3.007843258), (3.125, -3.875))
            Line((3.125, -3.875), (3.992156742, -3.875))
            ThreePointArc((3.992156742, -3.875), (4, -4), (3.992156742, -4.125))
            Line((3.992156742, -4.125), (3.125, -4.125))
            Line((3.125, -4.125), (3.125, -4.992156742))
            ThreePointArc((3.125, -4.992156742), (3, -5), (2.875, -4.992156742))
            Line((2.875, -4.992156742), (2.875, -4.125))
            Line((2.875, -4.125), (2.007843258, -4.125))
            ThreePointArc((2.007843258, -4.125), (2, -4), (2.007843258, -3.875))
            Line((2.007843258, -3.875), (2.875, -3.875))
        make_face()
    extrude(amount=-CORTAR_EXTRUIR8_DEPTH, mode=Mode.SUBTRACT)


solid = Compound([part.part, body_2.part, body_3.part, body_4.part, body_5.part, body_6.part, body_7.part, body_8.part, body_9.part, body_10.part, body_11.part, body_12.part, body_13.part, body_14.part, body_15.part])
